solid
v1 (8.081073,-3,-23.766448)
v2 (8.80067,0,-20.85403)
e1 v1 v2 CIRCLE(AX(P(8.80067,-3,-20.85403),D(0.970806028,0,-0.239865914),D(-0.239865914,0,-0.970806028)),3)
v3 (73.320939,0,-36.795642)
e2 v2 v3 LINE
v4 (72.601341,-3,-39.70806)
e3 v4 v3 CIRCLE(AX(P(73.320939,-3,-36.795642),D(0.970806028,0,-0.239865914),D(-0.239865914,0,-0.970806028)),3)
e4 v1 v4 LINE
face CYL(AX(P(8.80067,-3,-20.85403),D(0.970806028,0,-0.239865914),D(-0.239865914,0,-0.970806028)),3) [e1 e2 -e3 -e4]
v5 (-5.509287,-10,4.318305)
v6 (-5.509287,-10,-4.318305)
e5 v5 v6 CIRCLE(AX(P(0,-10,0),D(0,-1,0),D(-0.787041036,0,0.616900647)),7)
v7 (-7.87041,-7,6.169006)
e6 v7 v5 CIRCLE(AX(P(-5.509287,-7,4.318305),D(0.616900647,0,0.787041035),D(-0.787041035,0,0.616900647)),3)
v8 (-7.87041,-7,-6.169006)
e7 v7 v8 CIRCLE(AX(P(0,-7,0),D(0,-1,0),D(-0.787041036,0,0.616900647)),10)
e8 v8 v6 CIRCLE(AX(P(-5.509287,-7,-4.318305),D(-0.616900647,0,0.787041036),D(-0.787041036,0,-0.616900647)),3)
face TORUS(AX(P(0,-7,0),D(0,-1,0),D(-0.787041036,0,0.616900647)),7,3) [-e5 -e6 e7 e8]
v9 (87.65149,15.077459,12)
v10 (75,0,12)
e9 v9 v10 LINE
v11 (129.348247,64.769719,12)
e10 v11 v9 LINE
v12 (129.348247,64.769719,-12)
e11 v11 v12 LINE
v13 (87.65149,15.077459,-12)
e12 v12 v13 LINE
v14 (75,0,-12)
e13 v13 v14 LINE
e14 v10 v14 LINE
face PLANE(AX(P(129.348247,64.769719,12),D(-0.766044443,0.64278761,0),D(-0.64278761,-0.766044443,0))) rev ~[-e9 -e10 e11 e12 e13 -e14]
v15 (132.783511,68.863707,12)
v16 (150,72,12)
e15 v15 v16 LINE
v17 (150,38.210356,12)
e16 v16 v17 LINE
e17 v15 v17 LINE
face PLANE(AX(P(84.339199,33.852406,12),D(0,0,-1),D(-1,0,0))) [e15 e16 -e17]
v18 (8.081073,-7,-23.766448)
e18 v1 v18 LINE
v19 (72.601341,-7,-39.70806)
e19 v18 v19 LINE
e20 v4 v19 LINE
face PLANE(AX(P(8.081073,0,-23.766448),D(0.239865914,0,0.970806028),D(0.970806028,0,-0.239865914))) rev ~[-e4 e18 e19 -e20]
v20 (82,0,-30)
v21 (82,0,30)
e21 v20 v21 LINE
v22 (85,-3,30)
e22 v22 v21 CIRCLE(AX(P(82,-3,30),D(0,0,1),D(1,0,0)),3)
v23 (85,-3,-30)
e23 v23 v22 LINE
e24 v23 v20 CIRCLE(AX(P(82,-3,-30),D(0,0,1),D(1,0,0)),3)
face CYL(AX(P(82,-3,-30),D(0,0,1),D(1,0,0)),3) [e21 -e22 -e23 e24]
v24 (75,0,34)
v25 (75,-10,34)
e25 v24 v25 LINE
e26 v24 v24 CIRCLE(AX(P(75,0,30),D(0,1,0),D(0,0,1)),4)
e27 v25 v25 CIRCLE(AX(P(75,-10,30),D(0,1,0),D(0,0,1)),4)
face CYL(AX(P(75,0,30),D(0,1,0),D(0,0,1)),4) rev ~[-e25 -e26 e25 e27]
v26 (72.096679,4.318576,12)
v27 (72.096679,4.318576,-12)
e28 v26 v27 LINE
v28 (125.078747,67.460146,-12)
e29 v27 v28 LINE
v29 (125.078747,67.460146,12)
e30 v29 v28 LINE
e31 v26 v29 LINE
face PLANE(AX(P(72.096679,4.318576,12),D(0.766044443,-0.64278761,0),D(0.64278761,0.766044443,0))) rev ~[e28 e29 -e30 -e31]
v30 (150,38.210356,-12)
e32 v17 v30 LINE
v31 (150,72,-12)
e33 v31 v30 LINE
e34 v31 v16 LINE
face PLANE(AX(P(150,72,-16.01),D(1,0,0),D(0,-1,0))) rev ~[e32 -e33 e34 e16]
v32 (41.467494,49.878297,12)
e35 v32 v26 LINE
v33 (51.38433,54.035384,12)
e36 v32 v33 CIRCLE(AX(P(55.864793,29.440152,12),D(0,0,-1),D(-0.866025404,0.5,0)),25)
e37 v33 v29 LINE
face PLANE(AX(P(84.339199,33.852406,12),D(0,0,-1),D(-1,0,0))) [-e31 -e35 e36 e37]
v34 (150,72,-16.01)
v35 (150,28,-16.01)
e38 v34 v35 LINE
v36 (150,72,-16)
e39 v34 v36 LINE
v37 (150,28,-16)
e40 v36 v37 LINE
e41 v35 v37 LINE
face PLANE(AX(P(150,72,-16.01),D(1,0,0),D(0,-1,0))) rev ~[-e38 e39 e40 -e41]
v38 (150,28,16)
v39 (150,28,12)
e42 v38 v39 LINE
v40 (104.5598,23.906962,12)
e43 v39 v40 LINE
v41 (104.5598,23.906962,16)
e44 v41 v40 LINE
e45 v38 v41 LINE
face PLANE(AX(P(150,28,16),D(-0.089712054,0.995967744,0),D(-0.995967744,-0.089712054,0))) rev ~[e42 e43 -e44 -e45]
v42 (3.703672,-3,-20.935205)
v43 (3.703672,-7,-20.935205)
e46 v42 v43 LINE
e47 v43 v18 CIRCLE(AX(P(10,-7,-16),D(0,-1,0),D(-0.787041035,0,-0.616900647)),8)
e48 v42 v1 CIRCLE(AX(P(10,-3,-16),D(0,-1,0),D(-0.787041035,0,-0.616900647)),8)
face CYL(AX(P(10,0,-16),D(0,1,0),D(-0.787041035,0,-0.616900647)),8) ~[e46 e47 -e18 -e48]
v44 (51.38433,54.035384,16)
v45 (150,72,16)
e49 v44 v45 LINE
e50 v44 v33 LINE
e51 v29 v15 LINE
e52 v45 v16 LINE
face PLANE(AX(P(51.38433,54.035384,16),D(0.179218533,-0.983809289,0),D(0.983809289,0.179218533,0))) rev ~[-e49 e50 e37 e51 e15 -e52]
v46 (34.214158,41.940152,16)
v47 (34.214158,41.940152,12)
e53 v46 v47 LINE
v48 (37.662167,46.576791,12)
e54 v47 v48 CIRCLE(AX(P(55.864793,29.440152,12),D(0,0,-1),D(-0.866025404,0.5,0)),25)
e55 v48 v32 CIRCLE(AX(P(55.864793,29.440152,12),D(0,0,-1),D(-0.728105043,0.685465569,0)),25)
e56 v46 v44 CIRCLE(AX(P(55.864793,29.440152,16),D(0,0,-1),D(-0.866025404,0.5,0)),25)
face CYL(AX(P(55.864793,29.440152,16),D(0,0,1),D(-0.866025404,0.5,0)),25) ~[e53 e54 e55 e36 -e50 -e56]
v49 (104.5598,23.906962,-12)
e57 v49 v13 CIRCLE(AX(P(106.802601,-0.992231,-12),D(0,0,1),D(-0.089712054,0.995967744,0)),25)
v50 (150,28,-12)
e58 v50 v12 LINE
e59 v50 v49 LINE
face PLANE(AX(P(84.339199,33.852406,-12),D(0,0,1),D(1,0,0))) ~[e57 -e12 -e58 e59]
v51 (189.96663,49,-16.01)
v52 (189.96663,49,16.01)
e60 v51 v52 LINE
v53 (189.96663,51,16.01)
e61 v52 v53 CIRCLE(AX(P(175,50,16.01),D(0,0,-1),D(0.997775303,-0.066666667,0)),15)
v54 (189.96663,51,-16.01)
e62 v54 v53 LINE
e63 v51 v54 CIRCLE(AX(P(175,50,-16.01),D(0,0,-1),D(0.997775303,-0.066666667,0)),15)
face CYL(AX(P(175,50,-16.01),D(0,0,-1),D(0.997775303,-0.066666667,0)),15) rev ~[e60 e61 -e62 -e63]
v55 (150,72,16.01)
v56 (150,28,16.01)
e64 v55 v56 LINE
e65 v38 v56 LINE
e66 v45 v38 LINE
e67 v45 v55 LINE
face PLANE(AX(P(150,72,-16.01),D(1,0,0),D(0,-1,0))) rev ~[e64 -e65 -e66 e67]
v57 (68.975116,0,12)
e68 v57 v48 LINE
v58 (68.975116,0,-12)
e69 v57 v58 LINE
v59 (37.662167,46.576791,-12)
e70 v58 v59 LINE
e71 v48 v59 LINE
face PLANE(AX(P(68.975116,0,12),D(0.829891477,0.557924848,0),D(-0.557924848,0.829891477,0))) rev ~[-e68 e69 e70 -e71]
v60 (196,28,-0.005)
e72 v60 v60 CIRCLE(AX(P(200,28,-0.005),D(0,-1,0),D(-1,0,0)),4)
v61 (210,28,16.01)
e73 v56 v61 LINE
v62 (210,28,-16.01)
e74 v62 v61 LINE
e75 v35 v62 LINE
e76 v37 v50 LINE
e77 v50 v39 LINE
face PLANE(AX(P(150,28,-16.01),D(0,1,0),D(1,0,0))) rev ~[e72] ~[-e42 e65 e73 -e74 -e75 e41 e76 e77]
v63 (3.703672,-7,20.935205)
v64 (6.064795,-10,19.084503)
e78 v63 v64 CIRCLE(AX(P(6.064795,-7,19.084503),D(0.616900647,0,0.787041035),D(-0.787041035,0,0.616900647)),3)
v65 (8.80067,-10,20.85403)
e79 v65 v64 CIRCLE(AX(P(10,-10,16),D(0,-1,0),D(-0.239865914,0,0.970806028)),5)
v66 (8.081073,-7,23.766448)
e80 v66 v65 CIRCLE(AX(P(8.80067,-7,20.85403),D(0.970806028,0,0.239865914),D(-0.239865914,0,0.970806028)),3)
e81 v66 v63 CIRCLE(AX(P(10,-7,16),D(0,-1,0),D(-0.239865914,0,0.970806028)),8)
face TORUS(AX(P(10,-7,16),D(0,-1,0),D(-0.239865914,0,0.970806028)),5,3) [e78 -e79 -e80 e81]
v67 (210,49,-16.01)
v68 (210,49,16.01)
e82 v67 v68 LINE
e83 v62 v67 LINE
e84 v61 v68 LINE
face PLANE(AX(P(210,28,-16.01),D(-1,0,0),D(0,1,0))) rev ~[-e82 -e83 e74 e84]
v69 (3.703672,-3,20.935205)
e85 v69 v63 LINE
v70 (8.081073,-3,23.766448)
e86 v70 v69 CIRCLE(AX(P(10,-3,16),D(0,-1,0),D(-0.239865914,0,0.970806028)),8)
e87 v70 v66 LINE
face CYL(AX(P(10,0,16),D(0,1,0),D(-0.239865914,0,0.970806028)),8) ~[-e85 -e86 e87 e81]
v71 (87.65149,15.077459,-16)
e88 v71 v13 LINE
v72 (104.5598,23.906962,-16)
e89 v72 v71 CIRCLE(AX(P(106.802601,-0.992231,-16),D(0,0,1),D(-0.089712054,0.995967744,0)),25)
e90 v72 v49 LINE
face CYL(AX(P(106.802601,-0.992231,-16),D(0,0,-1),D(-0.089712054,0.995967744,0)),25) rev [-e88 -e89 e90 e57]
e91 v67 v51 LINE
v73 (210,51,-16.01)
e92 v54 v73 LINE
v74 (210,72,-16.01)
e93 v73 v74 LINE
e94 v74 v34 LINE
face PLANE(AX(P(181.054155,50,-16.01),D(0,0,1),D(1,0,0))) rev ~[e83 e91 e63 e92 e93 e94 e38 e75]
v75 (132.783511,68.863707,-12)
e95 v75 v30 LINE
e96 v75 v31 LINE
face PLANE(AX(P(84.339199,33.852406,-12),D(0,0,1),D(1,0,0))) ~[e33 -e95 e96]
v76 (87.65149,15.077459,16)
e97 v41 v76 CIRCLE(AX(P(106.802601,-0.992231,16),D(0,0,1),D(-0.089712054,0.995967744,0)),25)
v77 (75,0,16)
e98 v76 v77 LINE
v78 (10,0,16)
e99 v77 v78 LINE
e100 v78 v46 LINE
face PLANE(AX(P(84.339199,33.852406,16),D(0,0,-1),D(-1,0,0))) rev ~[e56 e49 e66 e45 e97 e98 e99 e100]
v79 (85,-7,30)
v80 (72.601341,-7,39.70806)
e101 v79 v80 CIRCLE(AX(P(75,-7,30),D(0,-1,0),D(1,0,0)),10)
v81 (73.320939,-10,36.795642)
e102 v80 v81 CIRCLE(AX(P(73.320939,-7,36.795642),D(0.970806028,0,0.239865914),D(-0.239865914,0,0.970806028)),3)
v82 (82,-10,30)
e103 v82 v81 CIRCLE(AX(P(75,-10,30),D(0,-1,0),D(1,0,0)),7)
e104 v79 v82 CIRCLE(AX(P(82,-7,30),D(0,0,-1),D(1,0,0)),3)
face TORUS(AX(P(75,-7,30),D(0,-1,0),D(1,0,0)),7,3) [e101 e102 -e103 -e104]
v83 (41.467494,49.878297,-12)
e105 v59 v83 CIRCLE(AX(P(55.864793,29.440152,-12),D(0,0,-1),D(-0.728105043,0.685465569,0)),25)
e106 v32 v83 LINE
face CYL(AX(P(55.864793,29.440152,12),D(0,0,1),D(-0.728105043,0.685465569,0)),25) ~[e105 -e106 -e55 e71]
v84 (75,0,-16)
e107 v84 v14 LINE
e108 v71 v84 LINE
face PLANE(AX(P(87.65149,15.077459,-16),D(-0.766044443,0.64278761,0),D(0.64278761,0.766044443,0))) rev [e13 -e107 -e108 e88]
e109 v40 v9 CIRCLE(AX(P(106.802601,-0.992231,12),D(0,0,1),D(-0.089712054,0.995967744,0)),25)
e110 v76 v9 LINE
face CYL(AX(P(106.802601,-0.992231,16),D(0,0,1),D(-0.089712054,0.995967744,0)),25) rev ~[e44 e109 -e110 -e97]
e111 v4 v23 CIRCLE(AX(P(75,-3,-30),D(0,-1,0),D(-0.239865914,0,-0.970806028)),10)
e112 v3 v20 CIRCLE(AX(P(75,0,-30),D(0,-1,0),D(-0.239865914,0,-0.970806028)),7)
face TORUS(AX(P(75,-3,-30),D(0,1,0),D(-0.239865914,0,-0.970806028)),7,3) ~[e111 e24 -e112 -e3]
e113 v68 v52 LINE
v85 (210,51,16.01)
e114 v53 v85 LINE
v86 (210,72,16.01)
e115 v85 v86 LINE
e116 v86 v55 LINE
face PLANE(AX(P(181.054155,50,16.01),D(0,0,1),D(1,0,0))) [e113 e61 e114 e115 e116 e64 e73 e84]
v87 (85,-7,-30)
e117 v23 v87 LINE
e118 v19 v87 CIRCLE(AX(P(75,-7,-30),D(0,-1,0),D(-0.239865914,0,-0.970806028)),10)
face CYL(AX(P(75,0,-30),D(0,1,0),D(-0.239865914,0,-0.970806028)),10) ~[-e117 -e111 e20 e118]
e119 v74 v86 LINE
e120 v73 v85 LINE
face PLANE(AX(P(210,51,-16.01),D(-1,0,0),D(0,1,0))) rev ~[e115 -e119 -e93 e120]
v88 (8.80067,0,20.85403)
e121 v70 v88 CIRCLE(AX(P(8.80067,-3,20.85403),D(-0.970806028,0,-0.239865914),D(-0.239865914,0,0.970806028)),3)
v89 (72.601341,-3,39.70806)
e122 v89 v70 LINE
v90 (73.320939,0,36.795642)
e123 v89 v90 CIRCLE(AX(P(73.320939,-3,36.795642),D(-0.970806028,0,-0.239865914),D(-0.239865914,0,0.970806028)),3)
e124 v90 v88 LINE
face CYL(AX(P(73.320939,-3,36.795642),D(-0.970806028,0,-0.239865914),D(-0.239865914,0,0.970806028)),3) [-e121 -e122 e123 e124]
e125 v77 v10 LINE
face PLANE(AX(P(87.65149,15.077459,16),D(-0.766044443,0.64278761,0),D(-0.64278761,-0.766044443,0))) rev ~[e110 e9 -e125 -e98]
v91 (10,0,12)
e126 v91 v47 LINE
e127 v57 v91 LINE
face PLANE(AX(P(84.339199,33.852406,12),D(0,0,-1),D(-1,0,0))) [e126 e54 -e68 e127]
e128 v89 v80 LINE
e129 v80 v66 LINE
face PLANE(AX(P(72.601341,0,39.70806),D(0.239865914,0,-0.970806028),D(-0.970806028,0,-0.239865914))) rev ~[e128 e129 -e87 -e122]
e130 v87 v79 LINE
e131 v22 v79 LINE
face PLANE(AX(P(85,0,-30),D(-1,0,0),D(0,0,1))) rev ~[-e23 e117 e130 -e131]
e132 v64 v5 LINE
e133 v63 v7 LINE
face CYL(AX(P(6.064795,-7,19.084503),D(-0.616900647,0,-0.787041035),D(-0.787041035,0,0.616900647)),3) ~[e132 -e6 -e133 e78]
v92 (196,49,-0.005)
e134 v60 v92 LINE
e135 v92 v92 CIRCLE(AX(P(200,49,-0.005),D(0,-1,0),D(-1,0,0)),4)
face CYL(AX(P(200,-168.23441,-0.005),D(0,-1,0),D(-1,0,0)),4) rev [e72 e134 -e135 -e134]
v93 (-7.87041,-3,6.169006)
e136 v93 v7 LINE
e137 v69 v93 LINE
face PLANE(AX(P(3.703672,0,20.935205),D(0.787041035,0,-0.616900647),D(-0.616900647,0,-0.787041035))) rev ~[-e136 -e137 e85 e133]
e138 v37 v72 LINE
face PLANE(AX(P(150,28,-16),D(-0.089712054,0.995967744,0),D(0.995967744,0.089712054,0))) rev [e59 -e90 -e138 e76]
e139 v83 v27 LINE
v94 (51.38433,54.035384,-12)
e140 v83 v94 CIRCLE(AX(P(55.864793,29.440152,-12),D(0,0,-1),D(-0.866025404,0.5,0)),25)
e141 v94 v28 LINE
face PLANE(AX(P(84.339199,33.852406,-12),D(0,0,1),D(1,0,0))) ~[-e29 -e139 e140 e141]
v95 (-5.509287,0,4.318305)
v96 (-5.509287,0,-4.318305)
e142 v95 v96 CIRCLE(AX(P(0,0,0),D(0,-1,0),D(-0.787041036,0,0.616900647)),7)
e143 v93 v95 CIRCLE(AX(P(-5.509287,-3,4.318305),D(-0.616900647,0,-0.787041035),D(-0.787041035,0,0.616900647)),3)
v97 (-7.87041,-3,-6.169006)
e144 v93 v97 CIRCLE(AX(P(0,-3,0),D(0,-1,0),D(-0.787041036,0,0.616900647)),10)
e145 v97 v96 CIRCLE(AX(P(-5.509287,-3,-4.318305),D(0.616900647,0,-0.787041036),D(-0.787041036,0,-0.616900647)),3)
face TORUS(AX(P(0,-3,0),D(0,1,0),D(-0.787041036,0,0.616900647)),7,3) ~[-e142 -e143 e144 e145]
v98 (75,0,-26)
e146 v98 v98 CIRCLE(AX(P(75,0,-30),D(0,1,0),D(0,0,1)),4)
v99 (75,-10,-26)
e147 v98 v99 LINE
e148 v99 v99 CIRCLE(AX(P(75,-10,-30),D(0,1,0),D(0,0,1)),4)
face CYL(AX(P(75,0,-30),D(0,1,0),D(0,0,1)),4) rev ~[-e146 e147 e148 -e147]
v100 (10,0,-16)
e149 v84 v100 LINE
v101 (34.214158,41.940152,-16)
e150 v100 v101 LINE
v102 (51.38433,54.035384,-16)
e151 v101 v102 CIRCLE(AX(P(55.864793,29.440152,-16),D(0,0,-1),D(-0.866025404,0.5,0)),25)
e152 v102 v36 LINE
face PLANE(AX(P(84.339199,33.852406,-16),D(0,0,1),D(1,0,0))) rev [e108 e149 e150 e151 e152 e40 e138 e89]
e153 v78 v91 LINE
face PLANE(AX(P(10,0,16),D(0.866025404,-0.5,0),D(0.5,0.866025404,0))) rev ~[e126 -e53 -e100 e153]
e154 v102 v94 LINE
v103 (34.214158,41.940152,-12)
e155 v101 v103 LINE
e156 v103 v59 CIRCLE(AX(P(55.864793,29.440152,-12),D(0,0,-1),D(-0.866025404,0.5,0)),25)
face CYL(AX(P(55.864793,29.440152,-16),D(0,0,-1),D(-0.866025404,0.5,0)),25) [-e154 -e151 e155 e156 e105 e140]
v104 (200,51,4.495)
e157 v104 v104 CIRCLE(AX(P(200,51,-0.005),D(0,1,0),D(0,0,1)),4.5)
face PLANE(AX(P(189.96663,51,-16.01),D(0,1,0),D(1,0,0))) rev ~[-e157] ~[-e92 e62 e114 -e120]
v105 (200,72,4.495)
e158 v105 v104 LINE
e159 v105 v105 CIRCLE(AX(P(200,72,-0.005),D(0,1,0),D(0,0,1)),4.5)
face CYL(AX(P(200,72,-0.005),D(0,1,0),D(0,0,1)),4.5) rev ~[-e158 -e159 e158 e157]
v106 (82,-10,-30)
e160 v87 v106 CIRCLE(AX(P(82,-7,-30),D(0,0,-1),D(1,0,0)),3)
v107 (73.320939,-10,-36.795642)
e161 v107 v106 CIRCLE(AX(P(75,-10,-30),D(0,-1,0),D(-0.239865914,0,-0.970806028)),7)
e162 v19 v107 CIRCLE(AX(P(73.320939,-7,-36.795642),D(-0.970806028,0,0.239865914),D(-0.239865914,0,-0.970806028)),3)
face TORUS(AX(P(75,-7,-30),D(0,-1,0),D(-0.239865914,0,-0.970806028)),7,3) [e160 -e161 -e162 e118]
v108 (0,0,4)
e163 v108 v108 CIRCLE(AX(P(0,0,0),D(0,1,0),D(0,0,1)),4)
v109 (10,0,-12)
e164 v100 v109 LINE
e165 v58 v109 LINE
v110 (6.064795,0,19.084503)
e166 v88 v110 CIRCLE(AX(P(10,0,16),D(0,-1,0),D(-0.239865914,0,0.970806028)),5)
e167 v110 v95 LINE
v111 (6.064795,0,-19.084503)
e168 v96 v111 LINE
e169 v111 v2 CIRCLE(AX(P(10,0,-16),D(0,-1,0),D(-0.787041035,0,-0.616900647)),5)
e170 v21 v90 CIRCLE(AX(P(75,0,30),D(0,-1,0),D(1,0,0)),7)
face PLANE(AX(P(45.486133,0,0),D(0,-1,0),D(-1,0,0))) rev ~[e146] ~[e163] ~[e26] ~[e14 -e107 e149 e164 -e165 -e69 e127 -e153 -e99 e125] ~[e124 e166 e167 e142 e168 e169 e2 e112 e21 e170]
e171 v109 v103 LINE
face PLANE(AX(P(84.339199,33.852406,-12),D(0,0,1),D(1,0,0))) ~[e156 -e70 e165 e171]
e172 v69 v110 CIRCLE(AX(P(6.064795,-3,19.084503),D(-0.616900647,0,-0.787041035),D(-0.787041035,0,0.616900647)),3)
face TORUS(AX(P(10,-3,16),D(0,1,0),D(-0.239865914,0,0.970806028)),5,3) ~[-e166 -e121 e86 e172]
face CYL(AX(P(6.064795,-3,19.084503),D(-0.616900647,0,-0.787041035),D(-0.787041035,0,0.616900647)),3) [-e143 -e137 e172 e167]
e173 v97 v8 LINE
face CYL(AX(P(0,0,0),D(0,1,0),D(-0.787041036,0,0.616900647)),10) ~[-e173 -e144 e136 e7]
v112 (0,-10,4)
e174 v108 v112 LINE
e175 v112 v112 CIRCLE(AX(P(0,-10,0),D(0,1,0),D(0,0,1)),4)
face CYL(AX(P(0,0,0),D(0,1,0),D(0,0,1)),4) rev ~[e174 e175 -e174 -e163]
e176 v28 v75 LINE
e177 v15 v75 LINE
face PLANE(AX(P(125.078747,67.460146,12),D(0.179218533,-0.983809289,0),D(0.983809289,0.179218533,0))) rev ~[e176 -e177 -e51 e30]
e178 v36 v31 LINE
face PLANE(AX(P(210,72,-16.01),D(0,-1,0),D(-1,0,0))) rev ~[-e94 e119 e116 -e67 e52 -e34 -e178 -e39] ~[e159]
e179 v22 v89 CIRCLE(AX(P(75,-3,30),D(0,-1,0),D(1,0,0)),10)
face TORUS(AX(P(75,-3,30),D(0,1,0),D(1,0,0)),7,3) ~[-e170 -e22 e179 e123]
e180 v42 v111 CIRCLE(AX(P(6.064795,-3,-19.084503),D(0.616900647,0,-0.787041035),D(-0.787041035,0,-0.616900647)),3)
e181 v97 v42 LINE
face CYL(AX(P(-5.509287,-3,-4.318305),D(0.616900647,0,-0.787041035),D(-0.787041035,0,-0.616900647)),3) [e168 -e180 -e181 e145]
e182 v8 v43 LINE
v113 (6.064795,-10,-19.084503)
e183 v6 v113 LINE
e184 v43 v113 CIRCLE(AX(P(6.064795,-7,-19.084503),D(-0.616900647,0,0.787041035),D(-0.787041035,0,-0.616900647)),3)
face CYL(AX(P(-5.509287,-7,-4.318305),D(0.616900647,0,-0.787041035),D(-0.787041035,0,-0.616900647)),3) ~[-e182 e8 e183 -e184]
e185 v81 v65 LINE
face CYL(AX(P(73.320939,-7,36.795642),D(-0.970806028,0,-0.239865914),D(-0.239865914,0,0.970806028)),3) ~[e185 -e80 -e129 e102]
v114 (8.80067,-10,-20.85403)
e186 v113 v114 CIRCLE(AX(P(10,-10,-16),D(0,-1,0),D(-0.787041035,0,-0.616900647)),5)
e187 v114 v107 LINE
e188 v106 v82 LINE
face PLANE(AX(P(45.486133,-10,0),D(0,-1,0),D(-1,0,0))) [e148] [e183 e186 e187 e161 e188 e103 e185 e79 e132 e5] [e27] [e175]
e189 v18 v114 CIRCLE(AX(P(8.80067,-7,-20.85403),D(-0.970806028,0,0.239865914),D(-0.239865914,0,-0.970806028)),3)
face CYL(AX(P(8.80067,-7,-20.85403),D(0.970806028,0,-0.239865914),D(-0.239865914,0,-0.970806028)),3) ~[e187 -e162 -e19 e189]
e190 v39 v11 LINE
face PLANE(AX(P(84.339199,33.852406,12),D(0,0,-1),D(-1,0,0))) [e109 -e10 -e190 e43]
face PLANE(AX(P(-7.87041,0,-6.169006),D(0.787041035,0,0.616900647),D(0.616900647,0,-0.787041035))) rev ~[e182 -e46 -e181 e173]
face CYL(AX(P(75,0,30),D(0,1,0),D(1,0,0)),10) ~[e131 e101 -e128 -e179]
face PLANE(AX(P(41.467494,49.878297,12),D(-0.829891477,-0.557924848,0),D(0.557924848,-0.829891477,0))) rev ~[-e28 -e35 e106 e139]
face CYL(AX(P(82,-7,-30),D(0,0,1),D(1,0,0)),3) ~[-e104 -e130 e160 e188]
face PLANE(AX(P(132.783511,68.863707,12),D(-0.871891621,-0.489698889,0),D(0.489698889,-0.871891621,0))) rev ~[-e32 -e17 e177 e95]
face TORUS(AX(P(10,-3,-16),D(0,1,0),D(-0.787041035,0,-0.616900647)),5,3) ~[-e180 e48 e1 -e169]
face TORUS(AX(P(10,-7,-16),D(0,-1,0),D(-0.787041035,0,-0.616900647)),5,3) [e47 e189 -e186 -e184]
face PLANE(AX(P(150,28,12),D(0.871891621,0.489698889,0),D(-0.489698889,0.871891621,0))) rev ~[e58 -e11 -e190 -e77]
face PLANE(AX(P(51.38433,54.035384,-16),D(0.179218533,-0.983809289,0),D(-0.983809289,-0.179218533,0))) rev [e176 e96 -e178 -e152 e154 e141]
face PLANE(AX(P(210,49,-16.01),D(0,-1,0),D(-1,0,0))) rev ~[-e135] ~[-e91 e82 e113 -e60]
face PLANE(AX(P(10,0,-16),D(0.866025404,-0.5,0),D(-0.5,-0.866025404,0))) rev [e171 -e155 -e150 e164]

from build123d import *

# Parameters (mm, degrees)
BOSS_EXTRUDE1_DEPTH      = 4
BOSS_EXTRUDE2_DEPTH      = 0.01
BOSS_EXTRUDE2_DEPTH_BACK = 32.01
SKETCH4_R                = 4.5
CUT_EXTRUDE1_DEPTH       = 23
CUT_EXTRUDE2_DEPTH       = 217.234410074
CUT_EXTRUDE2_DEPTH_BACK  = 217.234410074
SKETCH5_R                = 4
SKETCH6_R                = 4
BOSS_EXTRUDE3_DEPTH      = 10
FILLET1_R                = 3
BOSS_EXTRUDE6_DEPTH      = 24


with BuildPart() as part:
    # Sketch2 → Boss-Extrude1 (new body)
    with BuildSketch(Plane.XY.offset(16)):
        with BuildLine():
            Line((10, 0), (34.214158147, 41.940152173))
            ThreePointArc((34.214158147, 41.940152173), (41.467493607, 49.878296982), (51.384329922, 54.035384403))
            Line((51.384329922, 54.035384403), (150, 72))
            Line((150, 72), (150, 28))
            Line((150, 28), (104.559799809, 23.906962122))
            ThreePointArc((104.559799809, 23.906962122), (95.230440402, 21.168208391), (87.651490086, 15.077458761))
            Line((87.651490086, 15.077458761), (75, 0))
            Line((75, 0), (10, 0))
        make_face()
    extrude(amount=-BOSS_EXTRUDE1_DEPTH)


with BuildPart() as body_2:
    # Mirror2: mirrored copy
    add(part.part.mirror(Plane.XY))


with BuildPart() as part_1:
    add(part.part)

    add(body_2.part)  # Boss-Extrude2 merges body 2
    # Sketch3 → Boss-Extrude2 (add, two sides: drawn at the far end of the back side and taken through both)
    with BuildSketch(Plane.XY.offset(16).offset(-BOSS_EXTRUDE2_DEPTH_BACK)):
        with BuildLine():
            Line((189.966629547, 51), (210, 51))
            Line((210, 51), (210, 72))
            Line((210, 72), (150, 72))
            Line((150, 72), (150, 28))
            Line((150, 28), (210, 28))
            Line((210, 28), (210, 49))
            Line((210, 49), (189.966629547, 49))
            ThreePointArc((189.966629547, 49), (160, 50), (189.966629547, 51))
        make_face()
    extrude(amount=BOSS_EXTRUDE2_DEPTH + BOSS_EXTRUDE2_DEPTH_BACK)

    # Sketch4 → Cut-Extrude1 (cut)
    with BuildSketch(Plane(origin=(0, 72, 0), x_dir=(1, 0, 0), z_dir=(0, 1, 0))):
        with Locations(Location((200, 0.005, 0), (0, 0, 270))):
            Circle(SKETCH4_R)
    extrude(amount=-CUT_EXTRUDE1_DEPTH, mode=Mode.SUBTRACT)

    # Sketch5 → Cut-Extrude2 (cut, two sides: drawn at the far end of the back side and taken through both)
    with BuildSketch(Plane(origin=(0, 49, 0), x_dir=(1, 0, 0), z_dir=(0, 1, 0)).offset(-CUT_EXTRUDE2_DEPTH_BACK)):
        with Locations(Location((200, 0.005, 0), (0, 0, 180))):
            Circle(SKETCH5_R)
    extrude(amount=CUT_EXTRUDE2_DEPTH + CUT_EXTRUDE2_DEPTH_BACK, mode=Mode.SUBTRACT)

    # Sketch6 → Boss-Extrude3 (add)
    with BuildSketch(Plane(origin=(0, 0, 0), x_dir=(1, 0, 0), z_dir=(0, 1, 0))):
        with BuildLine():
            Line((-7.870410355, 6.169006472), (3.703671716, 20.935205177))
            ThreePointArc((3.703671716, 20.935205177), (5.655280169, 22.717396042), (8.081072691, 23.766448222))
            Line((8.081072691, 23.766448222), (72.601340863, 39.708060277))
            ThreePointArc((72.601340863, 39.708060277), (81.164957771, 37.873582138), (85, 30))
            Line((85, 30), (85, -30))
            ThreePointArc((85, -30), (81.164957771, -37.873582138), (72.601340863, -39.708060277))
            Line((72.601340863, -39.708060277), (8.081072691, -23.766448222))
            ThreePointArc((8.081072691, -23.766448222), (5.655280169, -22.717396042), (3.703671716, -20.935205177))
            Line((3.703671716, -20.935205177), (-7.870410355, -6.169006472))
            ThreePointArc((-7.870410355, -6.169006472), (-10, 0), (-7.870410355, 6.169006472))
        make_face()
        with Locations(Location((75, 30, 0), (0, 0, 270))):
            Circle(SKETCH6_R, mode=Mode.SUBTRACT)
        with Locations(Location((75, -30, 0), (0, 0, 270))):
            Circle(SKETCH6_R, mode=Mode.SUBTRACT)
        with Locations(Location((0, 0, 0), (0, 0, 270))):
            Circle(SKETCH6_R, mode=Mode.SUBTRACT)
    extrude(amount=-BOSS_EXTRUDE3_DEPTH)

    # Fillet1
    fillet1_edges = [part_1.edges().sort_by_distance(p)[0] for p in [
        (5.655280169, 0, -22.717396042),
        (-2.083369319, 0, -13.552105825),
        (-10, 0, 0),
        (-2.083369319, 0, 13.552105825),
        (5.655280169, 0, 22.717396042),
        (40.341206777, 0, 31.73725425),
        (81.164957771, 0, 37.873582138),
        (85, 0, 0),
        (81.164957771, 0, -37.873582138),
        (40.341206777, 0, -31.73725425),
        (5.655280169, -10, -22.717396042),
        (40.341206777, -10, -31.73725425),
        (81.164957771, -10, -37.873582138),
        (85, -10, 0),
        (81.164957771, -10, 37.873582138),
        (40.341206777, -10, 31.73725425),
        (5.655280169, -10, 22.717396042),
        (-2.083369319, -10, 13.552105825),
        (-10, -10, 0),
        (-2.083369319, -10, -13.552105825),
    ]]
    fillet(fillet1_edges, radius=FILLET1_R)

    # Sketch9 → Boss-Extrude6 (add)
    with BuildSketch(Plane(origin=(0, 0, 12), x_dir=(-1, 0, 0), z_dir=(0, 0, -1))):
        with BuildLine():
            Line((-75, 0), (-68.975115859, 0))
            Line((-68.975115859, 0), (-37.662167154, 46.576791386))
            ThreePointArc((-37.662167154, 46.576791386), (-39.481454935, 48.323643003), (-41.467493607, 49.878296982))
            Line((-41.467493607, 49.878296982), (-72.096679368, 4.31857634))
            Line((-72.096679368, 4.31857634), (-125.078747354, 67.460146206))
            Line((-125.078747354, 67.460146206), (-132.783511462, 68.863707378))
            Line((-132.783511462, 68.863707378), (-150, 38.210356026))
            Line((-150, 38.210356026), (-150, 28))
            Line((-150, 28), (-129.348247033, 64.769718653))
            Line((-129.348247033, 64.769718653), (-75, 0))
        make_face()
    extrude(amount=BOSS_EXTRUDE6_DEPTH)


solid = part_1.part
